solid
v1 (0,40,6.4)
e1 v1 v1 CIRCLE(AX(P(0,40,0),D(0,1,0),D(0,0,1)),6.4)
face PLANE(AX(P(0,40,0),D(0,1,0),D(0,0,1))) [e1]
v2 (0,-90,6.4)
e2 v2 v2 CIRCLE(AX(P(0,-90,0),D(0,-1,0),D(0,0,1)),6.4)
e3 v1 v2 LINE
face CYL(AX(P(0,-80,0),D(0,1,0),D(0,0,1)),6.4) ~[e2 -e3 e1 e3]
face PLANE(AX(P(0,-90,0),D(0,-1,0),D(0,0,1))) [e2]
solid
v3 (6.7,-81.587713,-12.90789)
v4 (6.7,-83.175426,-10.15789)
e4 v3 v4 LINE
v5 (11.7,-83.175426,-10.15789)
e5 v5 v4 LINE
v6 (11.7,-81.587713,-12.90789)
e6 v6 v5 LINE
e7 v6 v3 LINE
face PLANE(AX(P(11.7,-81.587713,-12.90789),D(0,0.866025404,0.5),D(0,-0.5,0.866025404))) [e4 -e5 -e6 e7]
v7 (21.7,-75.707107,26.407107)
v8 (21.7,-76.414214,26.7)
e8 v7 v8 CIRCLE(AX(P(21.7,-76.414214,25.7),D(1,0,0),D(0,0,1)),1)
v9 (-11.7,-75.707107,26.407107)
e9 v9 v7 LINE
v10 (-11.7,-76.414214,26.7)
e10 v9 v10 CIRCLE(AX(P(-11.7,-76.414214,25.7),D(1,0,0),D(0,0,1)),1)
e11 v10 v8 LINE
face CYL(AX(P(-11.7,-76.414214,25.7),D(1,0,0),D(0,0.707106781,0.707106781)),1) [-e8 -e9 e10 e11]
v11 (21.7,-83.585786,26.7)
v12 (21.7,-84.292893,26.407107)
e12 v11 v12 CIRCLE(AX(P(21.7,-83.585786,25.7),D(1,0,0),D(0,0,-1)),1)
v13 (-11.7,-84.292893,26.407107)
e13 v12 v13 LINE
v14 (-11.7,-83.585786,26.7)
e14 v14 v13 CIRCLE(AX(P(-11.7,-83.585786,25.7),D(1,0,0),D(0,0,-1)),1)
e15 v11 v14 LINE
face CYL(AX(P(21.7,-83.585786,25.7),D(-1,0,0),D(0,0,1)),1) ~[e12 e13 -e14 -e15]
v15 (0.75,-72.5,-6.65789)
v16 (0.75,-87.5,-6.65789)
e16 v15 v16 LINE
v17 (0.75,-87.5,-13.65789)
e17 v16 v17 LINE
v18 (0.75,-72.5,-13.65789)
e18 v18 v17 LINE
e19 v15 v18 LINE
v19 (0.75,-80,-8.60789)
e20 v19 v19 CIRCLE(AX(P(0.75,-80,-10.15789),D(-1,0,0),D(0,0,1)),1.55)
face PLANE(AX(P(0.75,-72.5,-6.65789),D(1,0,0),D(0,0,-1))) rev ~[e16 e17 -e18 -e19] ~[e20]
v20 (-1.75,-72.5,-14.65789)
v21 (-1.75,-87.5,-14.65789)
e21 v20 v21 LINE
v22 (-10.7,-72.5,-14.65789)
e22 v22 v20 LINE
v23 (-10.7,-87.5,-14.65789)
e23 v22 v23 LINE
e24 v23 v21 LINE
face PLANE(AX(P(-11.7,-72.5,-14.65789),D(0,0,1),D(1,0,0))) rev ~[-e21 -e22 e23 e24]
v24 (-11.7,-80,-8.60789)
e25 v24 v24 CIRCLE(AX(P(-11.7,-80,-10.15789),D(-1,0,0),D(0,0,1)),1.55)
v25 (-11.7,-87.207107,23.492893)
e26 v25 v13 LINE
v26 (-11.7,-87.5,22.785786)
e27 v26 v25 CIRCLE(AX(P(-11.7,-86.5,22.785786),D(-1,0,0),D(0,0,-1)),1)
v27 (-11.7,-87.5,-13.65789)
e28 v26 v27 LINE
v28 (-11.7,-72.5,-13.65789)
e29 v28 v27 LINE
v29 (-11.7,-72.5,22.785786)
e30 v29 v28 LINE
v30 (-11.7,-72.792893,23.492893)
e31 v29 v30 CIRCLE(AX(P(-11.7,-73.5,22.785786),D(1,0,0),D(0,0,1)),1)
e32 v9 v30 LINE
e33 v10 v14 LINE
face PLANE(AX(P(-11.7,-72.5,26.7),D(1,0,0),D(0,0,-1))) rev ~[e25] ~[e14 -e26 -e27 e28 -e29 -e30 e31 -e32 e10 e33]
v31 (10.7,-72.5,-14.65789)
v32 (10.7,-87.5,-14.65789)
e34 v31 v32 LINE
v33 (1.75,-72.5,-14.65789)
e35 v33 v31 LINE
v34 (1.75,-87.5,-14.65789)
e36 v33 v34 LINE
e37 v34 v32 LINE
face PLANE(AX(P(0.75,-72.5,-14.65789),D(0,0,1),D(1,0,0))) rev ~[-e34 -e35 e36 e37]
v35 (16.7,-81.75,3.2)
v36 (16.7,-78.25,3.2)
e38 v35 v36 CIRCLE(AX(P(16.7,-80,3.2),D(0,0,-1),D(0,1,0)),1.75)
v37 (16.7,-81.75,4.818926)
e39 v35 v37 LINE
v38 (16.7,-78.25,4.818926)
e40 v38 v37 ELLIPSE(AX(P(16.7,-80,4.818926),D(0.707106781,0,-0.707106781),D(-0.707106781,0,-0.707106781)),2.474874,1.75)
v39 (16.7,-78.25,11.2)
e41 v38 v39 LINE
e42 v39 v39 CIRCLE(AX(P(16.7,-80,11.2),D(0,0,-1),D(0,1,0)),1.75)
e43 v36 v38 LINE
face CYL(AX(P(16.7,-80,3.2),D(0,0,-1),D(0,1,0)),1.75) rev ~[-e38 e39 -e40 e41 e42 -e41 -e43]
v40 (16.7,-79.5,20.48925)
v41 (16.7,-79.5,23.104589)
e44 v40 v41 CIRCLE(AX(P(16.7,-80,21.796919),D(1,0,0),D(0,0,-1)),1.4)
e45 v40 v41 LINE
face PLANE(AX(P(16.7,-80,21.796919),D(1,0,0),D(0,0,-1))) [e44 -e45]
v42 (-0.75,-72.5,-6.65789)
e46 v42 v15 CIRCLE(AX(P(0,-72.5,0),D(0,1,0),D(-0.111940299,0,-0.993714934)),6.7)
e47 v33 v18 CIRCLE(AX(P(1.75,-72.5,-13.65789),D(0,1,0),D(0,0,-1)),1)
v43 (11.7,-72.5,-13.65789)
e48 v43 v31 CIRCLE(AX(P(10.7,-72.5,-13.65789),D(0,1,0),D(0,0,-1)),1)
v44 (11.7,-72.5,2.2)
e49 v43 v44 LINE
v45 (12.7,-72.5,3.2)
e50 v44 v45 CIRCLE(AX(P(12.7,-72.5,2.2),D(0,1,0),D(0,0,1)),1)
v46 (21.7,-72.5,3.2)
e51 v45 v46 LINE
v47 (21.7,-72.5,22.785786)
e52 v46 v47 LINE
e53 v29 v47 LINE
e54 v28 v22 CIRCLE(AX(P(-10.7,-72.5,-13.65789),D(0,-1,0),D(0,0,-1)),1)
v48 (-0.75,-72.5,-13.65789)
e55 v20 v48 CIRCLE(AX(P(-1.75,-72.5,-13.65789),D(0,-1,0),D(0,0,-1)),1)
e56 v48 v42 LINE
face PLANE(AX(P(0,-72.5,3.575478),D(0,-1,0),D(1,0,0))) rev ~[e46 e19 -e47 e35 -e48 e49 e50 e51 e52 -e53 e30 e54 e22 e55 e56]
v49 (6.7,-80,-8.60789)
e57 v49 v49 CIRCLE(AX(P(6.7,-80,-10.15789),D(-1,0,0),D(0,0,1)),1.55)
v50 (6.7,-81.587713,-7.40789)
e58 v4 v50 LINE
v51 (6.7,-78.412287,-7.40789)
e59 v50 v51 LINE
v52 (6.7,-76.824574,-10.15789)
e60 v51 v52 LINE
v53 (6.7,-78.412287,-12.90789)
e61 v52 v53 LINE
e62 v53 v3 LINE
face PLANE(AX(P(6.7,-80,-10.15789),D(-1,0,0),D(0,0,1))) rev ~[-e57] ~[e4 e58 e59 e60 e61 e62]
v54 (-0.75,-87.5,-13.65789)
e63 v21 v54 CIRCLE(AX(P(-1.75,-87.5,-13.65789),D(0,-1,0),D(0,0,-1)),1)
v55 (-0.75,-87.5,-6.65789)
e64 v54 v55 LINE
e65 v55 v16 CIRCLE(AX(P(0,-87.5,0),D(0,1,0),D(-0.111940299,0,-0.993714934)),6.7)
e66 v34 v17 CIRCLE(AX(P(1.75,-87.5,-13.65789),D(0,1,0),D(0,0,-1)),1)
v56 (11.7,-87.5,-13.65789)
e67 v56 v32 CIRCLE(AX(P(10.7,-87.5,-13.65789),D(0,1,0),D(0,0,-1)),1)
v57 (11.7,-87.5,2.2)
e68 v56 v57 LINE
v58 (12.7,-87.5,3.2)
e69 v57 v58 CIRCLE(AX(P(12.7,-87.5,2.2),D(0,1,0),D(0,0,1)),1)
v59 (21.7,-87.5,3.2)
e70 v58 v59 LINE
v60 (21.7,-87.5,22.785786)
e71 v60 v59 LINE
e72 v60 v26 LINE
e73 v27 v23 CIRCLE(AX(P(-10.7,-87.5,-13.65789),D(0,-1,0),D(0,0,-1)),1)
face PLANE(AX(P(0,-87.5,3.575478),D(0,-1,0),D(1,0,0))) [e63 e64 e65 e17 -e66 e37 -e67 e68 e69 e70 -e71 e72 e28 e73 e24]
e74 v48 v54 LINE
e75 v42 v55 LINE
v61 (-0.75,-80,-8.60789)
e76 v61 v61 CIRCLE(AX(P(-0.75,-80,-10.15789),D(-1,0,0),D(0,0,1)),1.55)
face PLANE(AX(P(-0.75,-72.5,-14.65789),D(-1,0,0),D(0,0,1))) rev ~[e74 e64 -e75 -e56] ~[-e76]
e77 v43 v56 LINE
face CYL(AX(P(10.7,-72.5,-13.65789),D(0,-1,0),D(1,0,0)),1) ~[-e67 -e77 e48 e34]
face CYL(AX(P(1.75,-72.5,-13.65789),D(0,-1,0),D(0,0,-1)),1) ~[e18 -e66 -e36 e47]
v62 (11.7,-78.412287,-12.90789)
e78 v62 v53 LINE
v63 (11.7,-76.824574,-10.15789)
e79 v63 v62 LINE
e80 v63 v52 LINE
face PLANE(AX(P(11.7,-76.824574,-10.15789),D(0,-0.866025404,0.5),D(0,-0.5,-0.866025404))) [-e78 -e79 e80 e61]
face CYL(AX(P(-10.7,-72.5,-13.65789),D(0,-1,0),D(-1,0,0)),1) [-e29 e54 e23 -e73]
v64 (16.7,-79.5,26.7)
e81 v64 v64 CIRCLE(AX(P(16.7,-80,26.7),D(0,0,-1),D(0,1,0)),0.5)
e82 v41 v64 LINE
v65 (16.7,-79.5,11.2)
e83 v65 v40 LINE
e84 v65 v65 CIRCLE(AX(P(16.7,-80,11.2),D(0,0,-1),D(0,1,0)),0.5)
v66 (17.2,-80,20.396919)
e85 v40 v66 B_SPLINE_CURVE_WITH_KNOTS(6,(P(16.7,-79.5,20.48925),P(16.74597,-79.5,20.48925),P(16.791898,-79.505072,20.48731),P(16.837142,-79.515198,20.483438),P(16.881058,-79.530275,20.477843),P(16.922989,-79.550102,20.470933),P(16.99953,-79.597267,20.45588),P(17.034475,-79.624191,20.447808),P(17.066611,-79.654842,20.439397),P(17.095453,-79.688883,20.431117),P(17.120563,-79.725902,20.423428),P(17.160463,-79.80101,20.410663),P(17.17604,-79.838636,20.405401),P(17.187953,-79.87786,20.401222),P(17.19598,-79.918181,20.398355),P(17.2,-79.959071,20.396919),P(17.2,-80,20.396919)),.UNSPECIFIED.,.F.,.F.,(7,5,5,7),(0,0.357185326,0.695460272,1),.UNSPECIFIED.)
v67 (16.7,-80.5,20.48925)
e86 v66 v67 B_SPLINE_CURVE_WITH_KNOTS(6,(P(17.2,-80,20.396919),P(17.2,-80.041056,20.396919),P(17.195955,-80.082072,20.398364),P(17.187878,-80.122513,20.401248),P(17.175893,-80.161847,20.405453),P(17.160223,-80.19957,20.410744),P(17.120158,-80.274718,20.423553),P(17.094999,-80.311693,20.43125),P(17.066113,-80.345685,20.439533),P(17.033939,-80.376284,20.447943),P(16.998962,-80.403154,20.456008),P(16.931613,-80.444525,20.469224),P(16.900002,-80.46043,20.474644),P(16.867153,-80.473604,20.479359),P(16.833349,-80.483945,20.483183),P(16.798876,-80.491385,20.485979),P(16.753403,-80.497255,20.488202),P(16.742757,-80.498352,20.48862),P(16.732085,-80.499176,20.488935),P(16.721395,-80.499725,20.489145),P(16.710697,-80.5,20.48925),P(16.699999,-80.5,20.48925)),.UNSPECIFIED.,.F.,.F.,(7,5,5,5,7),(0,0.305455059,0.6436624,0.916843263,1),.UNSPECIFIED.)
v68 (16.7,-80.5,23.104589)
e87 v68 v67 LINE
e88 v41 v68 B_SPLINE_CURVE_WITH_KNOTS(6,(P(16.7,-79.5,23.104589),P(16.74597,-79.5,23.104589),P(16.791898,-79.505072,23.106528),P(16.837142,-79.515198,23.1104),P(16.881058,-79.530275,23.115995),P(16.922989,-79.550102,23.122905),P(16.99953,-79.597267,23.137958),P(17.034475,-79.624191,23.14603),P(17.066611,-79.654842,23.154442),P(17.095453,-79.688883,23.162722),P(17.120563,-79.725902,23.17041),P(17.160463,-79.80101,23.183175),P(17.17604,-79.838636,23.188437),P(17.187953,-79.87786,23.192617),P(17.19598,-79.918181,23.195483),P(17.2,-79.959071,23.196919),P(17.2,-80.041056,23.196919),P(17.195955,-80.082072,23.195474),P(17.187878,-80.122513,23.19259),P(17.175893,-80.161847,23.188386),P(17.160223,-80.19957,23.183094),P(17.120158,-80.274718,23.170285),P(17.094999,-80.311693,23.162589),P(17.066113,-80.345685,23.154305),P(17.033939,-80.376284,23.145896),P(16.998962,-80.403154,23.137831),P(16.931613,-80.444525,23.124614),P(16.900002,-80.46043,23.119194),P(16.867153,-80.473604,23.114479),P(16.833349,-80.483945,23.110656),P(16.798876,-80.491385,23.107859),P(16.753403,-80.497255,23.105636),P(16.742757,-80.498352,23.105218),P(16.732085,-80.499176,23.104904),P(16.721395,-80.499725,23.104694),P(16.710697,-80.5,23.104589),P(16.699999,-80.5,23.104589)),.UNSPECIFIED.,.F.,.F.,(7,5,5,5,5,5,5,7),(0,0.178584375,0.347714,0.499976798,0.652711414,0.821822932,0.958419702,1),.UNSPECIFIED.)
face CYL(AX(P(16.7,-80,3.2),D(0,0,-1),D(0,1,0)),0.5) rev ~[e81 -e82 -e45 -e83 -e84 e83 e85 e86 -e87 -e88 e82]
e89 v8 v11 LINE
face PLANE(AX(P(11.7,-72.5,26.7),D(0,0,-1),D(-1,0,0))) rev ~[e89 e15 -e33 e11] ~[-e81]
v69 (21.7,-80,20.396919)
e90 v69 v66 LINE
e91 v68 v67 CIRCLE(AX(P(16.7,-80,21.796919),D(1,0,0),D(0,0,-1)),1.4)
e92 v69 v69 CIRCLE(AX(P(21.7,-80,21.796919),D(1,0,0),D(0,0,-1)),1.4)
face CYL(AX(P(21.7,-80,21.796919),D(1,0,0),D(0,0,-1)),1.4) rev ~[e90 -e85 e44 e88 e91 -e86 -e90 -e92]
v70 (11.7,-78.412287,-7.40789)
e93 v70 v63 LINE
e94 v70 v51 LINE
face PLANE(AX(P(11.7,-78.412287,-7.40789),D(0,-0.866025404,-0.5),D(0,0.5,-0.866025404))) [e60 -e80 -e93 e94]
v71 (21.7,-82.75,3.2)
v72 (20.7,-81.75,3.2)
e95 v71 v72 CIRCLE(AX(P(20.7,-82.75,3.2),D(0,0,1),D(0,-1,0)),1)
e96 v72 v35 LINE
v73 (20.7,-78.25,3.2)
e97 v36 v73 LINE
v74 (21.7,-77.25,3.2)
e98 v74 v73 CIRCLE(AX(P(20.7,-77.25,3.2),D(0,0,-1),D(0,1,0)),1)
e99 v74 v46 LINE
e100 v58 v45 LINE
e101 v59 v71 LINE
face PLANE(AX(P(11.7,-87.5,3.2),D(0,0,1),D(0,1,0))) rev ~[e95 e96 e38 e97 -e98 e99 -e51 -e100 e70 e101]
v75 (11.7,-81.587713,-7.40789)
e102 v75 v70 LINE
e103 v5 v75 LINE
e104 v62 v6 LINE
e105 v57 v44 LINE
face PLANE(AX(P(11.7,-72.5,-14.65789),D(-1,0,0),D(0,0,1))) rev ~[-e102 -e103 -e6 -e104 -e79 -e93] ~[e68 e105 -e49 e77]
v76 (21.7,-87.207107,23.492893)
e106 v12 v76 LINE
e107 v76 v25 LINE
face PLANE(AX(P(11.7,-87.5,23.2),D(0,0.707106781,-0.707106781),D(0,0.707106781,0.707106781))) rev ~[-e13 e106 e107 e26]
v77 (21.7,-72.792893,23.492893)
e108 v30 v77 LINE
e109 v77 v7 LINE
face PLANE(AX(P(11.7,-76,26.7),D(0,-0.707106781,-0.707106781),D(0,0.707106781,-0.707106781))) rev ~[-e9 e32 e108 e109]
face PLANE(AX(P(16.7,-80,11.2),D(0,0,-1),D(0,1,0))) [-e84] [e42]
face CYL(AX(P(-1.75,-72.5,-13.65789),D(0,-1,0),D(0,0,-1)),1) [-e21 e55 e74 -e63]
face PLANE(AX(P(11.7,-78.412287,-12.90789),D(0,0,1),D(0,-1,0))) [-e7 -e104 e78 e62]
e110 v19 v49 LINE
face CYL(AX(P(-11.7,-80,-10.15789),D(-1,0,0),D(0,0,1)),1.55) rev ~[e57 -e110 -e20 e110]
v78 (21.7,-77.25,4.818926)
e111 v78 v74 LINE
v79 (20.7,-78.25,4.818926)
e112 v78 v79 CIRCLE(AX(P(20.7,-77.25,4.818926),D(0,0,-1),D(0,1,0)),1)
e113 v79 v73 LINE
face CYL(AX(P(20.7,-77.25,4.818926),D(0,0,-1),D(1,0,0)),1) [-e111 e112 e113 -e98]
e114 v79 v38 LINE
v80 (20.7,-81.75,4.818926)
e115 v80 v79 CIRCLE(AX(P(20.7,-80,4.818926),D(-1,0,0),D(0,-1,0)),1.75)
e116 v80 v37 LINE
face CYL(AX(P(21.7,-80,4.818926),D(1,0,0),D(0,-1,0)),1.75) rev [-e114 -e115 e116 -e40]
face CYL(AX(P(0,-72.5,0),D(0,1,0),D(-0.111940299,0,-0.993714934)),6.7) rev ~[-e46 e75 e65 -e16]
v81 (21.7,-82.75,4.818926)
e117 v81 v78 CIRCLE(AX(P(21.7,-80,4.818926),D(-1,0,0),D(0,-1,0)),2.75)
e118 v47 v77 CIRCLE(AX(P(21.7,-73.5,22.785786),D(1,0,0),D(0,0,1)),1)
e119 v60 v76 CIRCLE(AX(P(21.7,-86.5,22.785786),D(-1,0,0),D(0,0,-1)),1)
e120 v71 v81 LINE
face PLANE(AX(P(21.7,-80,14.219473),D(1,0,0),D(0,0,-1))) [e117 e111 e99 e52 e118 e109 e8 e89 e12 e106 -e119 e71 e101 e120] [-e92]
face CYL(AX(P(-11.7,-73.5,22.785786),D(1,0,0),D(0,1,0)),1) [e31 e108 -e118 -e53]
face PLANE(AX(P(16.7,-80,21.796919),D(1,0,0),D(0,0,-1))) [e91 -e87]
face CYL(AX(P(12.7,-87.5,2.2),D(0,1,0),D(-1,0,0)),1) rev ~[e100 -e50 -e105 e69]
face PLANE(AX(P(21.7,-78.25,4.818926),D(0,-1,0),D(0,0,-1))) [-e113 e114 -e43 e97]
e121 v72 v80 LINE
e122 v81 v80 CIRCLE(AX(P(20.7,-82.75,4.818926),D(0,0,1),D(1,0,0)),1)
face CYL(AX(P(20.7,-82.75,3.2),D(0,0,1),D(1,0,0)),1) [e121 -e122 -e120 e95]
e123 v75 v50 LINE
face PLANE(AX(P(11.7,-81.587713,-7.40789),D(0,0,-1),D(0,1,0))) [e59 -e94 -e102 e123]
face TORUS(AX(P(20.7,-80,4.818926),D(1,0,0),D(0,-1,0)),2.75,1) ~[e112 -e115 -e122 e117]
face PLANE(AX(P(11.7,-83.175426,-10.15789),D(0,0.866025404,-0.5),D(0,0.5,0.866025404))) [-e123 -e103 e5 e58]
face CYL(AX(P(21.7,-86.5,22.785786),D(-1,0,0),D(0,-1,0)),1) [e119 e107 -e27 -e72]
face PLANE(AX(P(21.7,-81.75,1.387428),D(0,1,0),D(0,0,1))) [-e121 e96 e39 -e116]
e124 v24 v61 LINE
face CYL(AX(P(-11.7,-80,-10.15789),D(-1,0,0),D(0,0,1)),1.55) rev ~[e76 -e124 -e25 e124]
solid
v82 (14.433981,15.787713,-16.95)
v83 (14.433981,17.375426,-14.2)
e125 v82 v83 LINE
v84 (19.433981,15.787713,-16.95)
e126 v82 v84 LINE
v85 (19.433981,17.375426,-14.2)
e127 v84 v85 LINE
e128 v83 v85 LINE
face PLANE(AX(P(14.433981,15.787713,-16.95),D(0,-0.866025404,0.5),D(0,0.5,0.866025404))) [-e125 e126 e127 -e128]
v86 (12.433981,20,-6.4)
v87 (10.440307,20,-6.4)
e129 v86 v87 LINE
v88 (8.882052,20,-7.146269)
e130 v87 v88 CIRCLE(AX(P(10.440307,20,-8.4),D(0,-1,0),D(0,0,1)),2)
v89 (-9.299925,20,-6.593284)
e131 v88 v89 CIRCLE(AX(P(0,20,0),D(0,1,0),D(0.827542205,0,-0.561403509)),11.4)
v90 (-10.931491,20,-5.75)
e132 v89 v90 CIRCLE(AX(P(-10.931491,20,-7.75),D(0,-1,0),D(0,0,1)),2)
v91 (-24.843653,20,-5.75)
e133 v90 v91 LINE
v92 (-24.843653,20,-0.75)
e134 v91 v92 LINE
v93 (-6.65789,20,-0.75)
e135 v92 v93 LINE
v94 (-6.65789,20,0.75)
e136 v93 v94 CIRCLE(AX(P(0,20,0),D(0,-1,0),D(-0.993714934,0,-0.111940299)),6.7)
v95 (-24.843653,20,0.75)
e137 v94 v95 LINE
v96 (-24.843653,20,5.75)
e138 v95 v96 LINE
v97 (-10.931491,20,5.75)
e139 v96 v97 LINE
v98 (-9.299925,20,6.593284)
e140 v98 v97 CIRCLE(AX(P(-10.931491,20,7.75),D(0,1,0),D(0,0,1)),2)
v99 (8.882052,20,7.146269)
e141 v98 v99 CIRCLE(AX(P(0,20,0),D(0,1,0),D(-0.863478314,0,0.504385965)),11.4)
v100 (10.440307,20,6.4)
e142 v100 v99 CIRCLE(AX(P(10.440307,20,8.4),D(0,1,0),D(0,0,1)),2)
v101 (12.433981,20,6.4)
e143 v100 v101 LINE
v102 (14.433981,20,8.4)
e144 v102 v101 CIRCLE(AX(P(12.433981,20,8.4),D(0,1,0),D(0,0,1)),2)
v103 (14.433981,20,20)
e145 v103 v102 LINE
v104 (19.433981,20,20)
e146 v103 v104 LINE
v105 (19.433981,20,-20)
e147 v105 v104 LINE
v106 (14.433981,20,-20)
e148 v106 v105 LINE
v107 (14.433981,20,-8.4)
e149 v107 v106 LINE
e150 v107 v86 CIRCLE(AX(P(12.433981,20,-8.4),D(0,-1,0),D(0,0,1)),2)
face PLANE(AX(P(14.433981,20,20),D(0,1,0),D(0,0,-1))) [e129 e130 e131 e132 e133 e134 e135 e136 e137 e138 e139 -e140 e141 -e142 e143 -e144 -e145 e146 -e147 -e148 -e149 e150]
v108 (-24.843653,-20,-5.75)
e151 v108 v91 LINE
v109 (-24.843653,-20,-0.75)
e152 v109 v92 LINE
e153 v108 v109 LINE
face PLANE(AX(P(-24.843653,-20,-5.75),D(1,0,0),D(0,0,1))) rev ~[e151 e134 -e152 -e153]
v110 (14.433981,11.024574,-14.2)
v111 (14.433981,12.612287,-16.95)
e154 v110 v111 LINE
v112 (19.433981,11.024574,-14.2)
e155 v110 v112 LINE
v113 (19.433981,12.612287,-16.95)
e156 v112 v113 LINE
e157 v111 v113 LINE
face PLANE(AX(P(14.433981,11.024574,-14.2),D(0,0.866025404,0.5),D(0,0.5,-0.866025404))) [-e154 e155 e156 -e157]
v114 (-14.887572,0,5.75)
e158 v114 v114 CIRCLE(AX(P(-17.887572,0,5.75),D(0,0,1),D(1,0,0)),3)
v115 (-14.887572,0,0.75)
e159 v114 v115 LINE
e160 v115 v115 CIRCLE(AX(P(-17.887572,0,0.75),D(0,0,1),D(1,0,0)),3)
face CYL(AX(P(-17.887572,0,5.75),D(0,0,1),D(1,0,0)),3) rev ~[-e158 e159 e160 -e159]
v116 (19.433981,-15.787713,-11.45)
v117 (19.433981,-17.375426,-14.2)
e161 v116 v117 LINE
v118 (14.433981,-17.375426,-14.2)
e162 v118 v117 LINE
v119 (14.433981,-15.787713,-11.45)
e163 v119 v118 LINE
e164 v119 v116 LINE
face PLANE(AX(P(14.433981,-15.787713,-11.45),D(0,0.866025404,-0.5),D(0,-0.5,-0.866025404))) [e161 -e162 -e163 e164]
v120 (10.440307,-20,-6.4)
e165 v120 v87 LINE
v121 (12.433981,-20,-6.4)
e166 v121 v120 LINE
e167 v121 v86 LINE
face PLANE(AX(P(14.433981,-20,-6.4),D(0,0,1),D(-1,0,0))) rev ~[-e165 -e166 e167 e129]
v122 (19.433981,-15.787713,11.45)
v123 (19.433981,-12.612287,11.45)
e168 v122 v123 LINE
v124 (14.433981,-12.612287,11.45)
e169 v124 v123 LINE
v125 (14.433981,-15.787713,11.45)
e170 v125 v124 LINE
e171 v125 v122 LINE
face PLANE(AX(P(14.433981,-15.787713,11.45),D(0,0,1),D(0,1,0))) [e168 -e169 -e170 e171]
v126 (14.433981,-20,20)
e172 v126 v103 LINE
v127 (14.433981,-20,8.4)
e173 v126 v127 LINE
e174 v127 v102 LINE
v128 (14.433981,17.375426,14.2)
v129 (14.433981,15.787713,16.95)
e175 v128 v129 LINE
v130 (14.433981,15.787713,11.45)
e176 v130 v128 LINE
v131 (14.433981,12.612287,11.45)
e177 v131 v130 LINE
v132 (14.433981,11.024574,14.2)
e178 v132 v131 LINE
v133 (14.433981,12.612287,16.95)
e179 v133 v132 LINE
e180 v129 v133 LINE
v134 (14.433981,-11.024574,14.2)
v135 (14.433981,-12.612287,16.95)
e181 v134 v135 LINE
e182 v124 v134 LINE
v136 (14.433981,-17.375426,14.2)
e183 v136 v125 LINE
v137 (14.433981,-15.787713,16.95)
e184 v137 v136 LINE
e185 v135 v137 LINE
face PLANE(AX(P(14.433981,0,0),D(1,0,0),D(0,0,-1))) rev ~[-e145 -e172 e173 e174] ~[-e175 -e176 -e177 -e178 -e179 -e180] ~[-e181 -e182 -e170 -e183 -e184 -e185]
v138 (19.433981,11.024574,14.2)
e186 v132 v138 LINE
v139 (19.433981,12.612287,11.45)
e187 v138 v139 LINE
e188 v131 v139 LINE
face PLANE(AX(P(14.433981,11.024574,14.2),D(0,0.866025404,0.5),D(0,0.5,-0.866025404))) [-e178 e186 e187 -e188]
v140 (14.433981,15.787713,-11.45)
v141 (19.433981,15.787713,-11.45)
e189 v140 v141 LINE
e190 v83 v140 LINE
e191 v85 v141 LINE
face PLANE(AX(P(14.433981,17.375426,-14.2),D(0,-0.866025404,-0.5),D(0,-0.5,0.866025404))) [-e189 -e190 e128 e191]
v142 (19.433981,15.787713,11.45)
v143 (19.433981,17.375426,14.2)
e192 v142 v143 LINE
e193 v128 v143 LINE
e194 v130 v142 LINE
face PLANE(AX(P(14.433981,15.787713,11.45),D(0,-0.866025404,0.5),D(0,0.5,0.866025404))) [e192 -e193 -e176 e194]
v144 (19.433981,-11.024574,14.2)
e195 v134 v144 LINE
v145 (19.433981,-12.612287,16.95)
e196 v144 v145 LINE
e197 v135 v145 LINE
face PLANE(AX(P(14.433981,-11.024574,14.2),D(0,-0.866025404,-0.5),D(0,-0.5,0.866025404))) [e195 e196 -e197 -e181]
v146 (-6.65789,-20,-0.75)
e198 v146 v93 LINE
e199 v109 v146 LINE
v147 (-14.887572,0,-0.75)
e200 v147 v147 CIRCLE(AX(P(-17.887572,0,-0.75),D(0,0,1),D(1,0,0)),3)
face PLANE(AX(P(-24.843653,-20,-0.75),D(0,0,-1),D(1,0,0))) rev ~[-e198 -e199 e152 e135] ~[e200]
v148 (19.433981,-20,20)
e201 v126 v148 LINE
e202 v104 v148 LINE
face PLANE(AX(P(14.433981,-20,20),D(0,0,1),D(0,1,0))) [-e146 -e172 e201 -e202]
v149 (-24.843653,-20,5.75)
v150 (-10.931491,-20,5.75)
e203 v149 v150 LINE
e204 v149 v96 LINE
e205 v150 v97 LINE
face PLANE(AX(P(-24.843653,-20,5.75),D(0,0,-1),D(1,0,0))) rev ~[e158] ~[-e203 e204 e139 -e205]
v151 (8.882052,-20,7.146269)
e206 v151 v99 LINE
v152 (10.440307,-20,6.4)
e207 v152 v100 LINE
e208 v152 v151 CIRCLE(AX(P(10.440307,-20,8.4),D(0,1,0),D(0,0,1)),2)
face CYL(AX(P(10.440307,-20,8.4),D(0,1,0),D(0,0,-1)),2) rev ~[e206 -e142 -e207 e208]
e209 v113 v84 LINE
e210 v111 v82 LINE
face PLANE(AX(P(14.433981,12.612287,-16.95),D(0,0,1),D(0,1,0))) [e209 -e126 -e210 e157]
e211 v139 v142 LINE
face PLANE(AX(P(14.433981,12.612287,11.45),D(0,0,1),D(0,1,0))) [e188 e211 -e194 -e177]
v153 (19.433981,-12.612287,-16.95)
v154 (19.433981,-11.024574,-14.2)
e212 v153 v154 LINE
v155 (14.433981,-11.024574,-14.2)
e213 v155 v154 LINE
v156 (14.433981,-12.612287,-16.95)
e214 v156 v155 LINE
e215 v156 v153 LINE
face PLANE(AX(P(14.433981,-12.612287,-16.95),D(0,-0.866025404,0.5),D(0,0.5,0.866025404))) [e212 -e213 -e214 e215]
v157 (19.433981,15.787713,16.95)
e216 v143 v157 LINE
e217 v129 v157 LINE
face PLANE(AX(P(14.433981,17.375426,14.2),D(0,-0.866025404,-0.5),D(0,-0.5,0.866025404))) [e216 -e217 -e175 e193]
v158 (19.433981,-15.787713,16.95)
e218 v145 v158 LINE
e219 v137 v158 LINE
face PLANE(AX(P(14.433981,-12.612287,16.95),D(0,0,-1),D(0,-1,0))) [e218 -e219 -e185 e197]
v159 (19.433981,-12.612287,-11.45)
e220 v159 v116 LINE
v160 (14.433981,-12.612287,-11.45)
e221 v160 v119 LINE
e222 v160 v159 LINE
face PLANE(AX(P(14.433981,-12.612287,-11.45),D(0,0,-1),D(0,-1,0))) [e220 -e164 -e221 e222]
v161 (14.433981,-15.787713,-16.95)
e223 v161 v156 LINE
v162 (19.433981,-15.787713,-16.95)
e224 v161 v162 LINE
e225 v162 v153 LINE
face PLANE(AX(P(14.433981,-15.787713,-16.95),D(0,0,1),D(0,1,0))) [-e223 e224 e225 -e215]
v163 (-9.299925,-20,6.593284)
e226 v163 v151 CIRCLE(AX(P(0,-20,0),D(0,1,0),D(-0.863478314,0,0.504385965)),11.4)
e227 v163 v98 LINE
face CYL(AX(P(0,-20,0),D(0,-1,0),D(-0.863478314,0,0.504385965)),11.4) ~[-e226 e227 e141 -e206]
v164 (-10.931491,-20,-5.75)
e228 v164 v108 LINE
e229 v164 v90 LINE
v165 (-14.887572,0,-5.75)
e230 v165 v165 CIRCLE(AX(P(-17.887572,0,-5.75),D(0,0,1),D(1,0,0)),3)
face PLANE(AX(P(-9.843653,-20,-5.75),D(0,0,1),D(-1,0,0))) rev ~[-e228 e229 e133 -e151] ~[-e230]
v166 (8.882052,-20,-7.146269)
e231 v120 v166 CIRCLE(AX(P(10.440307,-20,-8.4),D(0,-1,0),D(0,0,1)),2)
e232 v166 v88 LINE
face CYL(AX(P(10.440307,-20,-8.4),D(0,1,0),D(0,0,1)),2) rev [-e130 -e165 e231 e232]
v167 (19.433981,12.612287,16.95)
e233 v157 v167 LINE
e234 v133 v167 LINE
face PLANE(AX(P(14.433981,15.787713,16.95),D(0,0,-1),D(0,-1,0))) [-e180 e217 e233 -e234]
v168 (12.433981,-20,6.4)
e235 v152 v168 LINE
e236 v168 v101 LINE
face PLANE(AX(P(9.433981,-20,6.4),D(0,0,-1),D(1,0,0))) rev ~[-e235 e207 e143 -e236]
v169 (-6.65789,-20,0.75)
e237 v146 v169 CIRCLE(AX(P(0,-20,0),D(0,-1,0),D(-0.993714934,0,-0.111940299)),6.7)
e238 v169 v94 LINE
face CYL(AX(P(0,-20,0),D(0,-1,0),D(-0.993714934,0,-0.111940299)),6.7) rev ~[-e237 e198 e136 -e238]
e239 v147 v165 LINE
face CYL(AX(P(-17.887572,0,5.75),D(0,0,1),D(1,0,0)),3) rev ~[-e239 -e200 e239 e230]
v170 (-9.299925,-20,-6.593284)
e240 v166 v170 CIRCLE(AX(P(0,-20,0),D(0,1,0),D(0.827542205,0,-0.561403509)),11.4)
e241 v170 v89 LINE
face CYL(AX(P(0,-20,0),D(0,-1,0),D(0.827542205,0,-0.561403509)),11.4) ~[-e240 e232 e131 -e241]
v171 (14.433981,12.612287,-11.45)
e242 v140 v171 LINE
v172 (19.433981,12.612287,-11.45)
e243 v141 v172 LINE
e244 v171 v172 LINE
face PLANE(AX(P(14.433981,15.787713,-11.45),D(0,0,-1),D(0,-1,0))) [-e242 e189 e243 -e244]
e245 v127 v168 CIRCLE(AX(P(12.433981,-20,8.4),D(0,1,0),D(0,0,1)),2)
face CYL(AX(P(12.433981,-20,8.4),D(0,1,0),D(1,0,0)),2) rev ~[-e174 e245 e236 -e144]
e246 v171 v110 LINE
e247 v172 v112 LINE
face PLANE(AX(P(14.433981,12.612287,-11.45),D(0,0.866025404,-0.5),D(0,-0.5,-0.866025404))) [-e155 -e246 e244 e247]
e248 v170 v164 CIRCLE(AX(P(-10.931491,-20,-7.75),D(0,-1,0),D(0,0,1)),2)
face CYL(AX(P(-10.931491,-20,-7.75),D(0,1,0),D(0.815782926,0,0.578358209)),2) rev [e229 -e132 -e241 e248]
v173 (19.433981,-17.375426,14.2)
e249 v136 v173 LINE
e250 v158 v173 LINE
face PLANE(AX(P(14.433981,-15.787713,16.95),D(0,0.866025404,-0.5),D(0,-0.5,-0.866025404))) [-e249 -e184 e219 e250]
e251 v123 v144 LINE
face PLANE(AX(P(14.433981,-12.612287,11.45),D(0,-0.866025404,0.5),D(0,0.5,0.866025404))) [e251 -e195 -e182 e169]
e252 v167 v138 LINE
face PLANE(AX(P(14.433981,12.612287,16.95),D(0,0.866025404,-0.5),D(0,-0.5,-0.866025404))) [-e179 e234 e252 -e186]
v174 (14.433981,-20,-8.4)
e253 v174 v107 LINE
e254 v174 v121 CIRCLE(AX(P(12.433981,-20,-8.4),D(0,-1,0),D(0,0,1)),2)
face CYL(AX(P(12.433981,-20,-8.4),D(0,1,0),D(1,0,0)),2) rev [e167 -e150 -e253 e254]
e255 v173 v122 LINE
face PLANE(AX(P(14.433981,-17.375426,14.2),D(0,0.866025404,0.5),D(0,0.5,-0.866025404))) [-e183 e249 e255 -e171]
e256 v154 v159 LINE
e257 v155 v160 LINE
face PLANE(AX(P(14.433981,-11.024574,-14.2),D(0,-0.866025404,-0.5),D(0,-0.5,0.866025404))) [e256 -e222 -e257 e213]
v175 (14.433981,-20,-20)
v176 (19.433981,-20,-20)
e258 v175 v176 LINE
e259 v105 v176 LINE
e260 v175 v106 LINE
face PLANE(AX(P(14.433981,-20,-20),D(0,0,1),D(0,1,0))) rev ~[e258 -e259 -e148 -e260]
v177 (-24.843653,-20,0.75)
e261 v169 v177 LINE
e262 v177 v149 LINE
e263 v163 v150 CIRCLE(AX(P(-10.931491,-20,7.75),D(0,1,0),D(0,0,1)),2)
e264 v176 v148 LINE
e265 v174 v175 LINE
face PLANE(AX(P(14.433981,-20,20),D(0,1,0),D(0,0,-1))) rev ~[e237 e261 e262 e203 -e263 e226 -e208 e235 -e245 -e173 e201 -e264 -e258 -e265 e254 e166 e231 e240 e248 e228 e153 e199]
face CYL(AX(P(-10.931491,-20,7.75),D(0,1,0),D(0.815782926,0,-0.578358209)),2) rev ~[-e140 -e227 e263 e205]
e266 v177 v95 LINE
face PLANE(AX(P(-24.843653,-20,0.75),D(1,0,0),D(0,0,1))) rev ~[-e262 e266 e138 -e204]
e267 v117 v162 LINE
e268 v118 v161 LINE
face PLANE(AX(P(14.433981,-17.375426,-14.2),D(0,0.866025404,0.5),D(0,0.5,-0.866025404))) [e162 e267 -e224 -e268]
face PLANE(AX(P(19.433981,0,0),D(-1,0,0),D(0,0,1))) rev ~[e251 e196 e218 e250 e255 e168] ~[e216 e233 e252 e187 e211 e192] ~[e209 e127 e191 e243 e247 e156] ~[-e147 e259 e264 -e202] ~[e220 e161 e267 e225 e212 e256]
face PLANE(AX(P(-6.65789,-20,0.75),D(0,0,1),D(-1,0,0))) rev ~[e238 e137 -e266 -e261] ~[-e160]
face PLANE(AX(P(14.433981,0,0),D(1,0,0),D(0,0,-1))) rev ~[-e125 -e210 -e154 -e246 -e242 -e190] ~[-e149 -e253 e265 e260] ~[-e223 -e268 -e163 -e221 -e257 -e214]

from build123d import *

# Parameters (mm, degrees)
BOSS_EXTRUDE1_DEPTH      = 40
BOSS_EXTRUDE1_DEPTH_BACK = 80
SKETCH1_R                = 6.4
BOSS_EXTRUDE2_DEPTH      = 20
BOSS_EXTRUDE2_DEPTH_BACK = 20
SKETCH6_W                = 40
SKETCH6_H                = 40
BOSS_EXTRUDE6_DEPTH      = 10
BOSS_EXTRUDE7_DEPTH      = 20
BOSS_EXTRUDE7_DEPTH_BACK = 20
FILLET4_R                = 2
FILLET5_R                = 2
CUT_EXTRUDE1_REACH       = 107.462
SKETCH9_R                = 3
CUT_EXTRUDE2_REACH       = 101.861
SKETCH10_R               = 2.5
BOSS_EXTRUDE8_DEPTH      = 7.5
BOSS_EXTRUDE8_DEPTH_BACK = 7.5
FILLET6_R                = 1
FILLET7_R                = 1
CUT_EXTRUDE8_REACH       = 120.558
SKETCH17_R               = 1.55
CUT_EXTRUDE9_DEPTH       = 5
SKETCH19_R               = 6.4
BOSS_EXTRUDE9_DEPTH      = 10
BOSS_EXTRUDE11_DEPTH     = 10
CUT_EXTRUDE15_DEPTH      = 23.4
SKETCH29_R               = 0.5
CUT_EXTRUDE16_DEPTH      = 23.5
SKETCH30_R               = 1.75
CUT_EXTRUDE17_DEPTH      = 8
FILLET10_R               = 1
SKETCH31_R               = 1.4
CUT_EXTRUDE18_DEPTH      = 5
CUT_EXTRUDE19_DEPTH      = 5
FILLET11_R               = 1
SKETCH33_R               = 1.5
CUT_EXTRUDE20_DEPTH      = 10
CUT_EXTRUDE21_DEPTH      = 5
SKETCH35_W               = 76.564023034
SKETCH35_H               = 53.794597286
CUT_EXTRUDE22_DEPTH      = 68


with BuildPart() as part:
    # Sketch1 → Boss-Extrude1 (new, two sides: drawn at the far end of the back side and taken through both)
    with BuildSketch(Plane(origin=(0, 0, 0), x_dir=(1, 0, 0), z_dir=(0, 1, 0)).offset(-BOSS_EXTRUDE1_DEPTH_BACK)):
        with Locations(Location((0, 0, 0), (0, 0, 270))):
            Circle(SKETCH1_R)
    extrude(amount=BOSS_EXTRUDE1_DEPTH + BOSS_EXTRUDE1_DEPTH_BACK)

    # Sketch19 → Boss-Extrude9 (add)
    with BuildSketch(Plane(origin=(0, -80, 0), x_dir=(-1, 0, 0), z_dir=(0, -1, 0))):
        with Locations(Location((0, 0, 0), (0, 0, 270))):
            Circle(SKETCH19_R)
    extrude(amount=BOSS_EXTRUDE9_DEPTH)


with BuildPart() as body_2:
    # Sketch2 → Boss-Extrude2 (new, two sides: drawn at the far end of the back side and taken through both)
    with BuildSketch(Plane(origin=(0, 0, 0), x_dir=(1, 0, 0), z_dir=(0, 1, 0)).offset(-BOSS_EXTRUDE2_DEPTH_BACK)):
        with BuildLine():
            Line((-9.843652777, 5.75), (-24.843652777, 5.75))
            Line((-24.843652777, 5.75), (-24.843652777, 0.75))
            Line((-24.843652777, 0.75), (-6.657890056, 0.75))
            ThreePointArc((-6.657890056, 0.75), (6.7, 0), (-6.657890056, -0.75))
            Line((-6.657890056, -0.75), (-24.843652777, -0.75))
            Line((-24.843652777, -0.75), (-24.843652777, -5.75))
            Line((-24.843652777, -5.75), (-9.843652777, -5.75))
            ThreePointArc((-9.843652777, -5.75), (-0.384164957, -11.393525235), (9.433981132, -6.4))
            Line((9.433981132, -6.4), (14.433981132, -6.4))
            Line((14.433981132, -6.4), (14.433981132, 6.4))
            Line((14.433981132, 6.4), (9.433981132, 6.4))
            ThreePointArc((9.433981132, 6.4), (-0.384164957, 11.393525235), (-9.843652777, 5.75))
        make_face()
    extrude(amount=BOSS_EXTRUDE2_DEPTH + BOSS_EXTRUDE2_DEPTH_BACK)

    # Sketch6 → Boss-Extrude6 (add)
    with BuildSketch(Plane(origin=(14.433981132, 0, 0), x_dir=(0, 0, -1), z_dir=(1, 0, 0))):
        Rectangle(SKETCH6_W, SKETCH6_H)
    extrude(amount=BOSS_EXTRUDE6_DEPTH)

    # Sketch7 → Boss-Extrude7 (add, two sides: drawn at the far end of the back side and taken through both)
    with BuildSketch(Plane(origin=(0, 0, 0), x_dir=(-1, 0, 0), z_dir=(0, 0, -1)).offset(-BOSS_EXTRUDE7_DEPTH_BACK)):
        with BuildLine():
            Line((-24.433981132, -6.4), (-29.433981132, -6.4))
            ThreePointArc((-29.433981132, -6.4), (-39.252127221, -11.393525235), (-48.711615041, -5.75))
            Line((-48.711615041, -5.75), (-63.711615041, -5.75))
            Line((-63.711615041, -5.75), (-63.711615041, -0.75))
            Line((-63.711615041, -0.75), (-45.52585232, -0.75))
            ThreePointArc((-45.52585232, -0.75), (-32.167962264, 0), (-45.52585232, 0.75))
            Line((-45.52585232, 0.75), (-63.711615041, 0.75))
            Line((-63.711615041, 0.75), (-63.711615041, 5.75))
            Line((-63.711615041, 5.75), (-48.711615041, 5.75))
            ThreePointArc((-48.711615041, 5.75), (-39.252127221, 11.393525235), (-29.433981132, 6.4))
            Line((-29.433981132, 6.4), (-24.433981132, 6.4))
            Line((-24.433981132, 6.4), (-24.433981132, -6.4))
        make_face()
    extrude(amount=BOSS_EXTRUDE7_DEPTH + BOSS_EXTRUDE7_DEPTH_BACK)

    # Fillet4
    fillet4_edges = [body_2.edges().sort_by_distance(p)[0] for p in [
        (24.433981132, 6.4, 0),
        (24.433981132, -6.4, 0),
        (14.433981132, 0, -6.4),
        (14.433981132, 0, 6.4),
    ]]
    fillet(fillet4_edges, radius=FILLET4_R)

    # Fillet5
    fillet5_edges = [body_2.edges().sort_by_distance(p)[0] for p in [
        (29.433981132, -6.4, 0),
        (29.433981132, 6.4, 0),
        (48.711615041, 5.75, 0),
        (48.711615041, -5.75, 0),
        (9.433981132, 0, 6.4),
        (9.433981132, 0, -6.4),
        (-9.843652777, 0, -5.75),
        (-9.843652777, 0, 5.75),
    ]]
    fillet(fillet5_edges, radius=FILLET5_R)

    # Cut-Extrude1: up to this face of the body (flat: up to its plane)
    cut_extrude1_end = Plane(body_2.part.faces().sort_by_distance((-17.887571992, 0, -5.75))[0])
    # Sketch9 → Cut-Extrude1 (cut, up to the picked face)
    with BuildSketch(Plane.XY.offset(5.75), mode=Mode.PRIVATE) as cut_extrude1_sk1:
        with Locations((-17.887571992, 0)):
            Circle(SKETCH9_R)
    cut_extrude1_tool1 = split(extrude(cut_extrude1_sk1.sketch, amount=-CUT_EXTRUDE1_REACH, mode=Mode.PRIVATE), bisect_by=cut_extrude1_end, keep=Keep.BOTH, mode=Mode.PRIVATE)
    add(cut_extrude1_tool1.solids().sort_by(Axis((-17.887572, 0, 5.75), (0, 0, -1)))[0], mode=Mode.SUBTRACT)

    # Cut-Extrude2: up to this face of the body (flat: up to its plane)
    cut_extrude2_end = Plane(body_2.part.faces().sort_by_distance((56.755534256, 5.75, 0))[0])
    # Sketch10 → Cut-Extrude2 (cut, up to the picked face)
    with BuildSketch(Plane(origin=(0, -5.75, 0), x_dir=(-1, 0, 0), z_dir=(0, -1, 0)), mode=Mode.PRIVATE) as cut_extrude2_sk1:
        with Locations(Location((-56.755534256, 0, 0), (0, 0, 180))):
            Circle(SKETCH10_R)
    cut_extrude2_tool1 = split(extrude(cut_extrude2_sk1.sketch, amount=-CUT_EXTRUDE2_REACH, mode=Mode.PRIVATE), bisect_by=cut_extrude2_end, keep=Keep.BOTH, mode=Mode.PRIVATE)
    add(cut_extrude2_tool1.solids().sort_by(Axis((56.755534, -5.75, 0), (0, 1, 0)))[0], mode=Mode.SUBTRACT)

    # Sketch33 → Cut-Extrude20 (cut)
    with BuildSketch(Plane.ZY.offset(-14.433981132)):
        with Locations((14.2, 14.2)):
            Circle(SKETCH33_R)
        with Locations(Location((14.2, -14.2, 0), (0, 0, 180))):
            Circle(SKETCH33_R)
        with Locations((-14.2, -14.2)):
            Circle(SKETCH33_R)
        with Locations(Location((-14.2, 14.2, 0), (0, 0, 180))):
            Circle(SKETCH33_R)
    extrude(amount=-CUT_EXTRUDE20_DEPTH, mode=Mode.SUBTRACT)

    # Sketch34 → Cut-Extrude21 (cut)
    with BuildSketch(Plane.ZY.offset(-14.433981132)):
        Polygon((16.95, -12.61228676), (16.95, -15.78771324), (14.2, -17.375426481), (11.45, -15.78771324), (11.45, -12.61228676), (14.2, -11.024573519), align=None)
        Polygon((14.2, 17.375426481), (16.95, 15.78771324), (16.95, 12.61228676), (14.2, 11.024573519), (11.45, 12.61228676), (11.45, 15.78771324), align=None)
        Polygon((-14.2, -17.375426481), (-16.95, -15.78771324), (-16.95, -12.61228676), (-14.2, -11.024573519), (-11.45, -12.61228676), (-11.45, -15.78771324), align=None)
        Polygon((-16.95, 12.61228676), (-16.95, 15.78771324), (-14.2, 17.375426481), (-11.45, 15.78771324), (-11.45, 12.61228676), (-14.2, 11.024573519), align=None)
    extrude(amount=-CUT_EXTRUDE21_DEPTH, mode=Mode.SUBTRACT)

    # Sketch35 → Cut-Extrude22 (cut)
    with BuildSketch(Plane.ZY.offset(-19.433981132)):
        Rectangle(SKETCH35_W, SKETCH35_H)
    extrude(amount=-CUT_EXTRUDE22_DEPTH, mode=Mode.SUBTRACT)


with BuildPart() as body_3:
    # Sketch13 → Boss-Extrude8 (new, two sides: drawn at the far end of the back side and taken through both)
    with BuildSketch(Plane.XZ.offset(80).offset(-BOSS_EXTRUDE8_DEPTH_BACK)):
        with BuildLine():
            Line((11.7, -14.657890056), (11.7, 26.7))
            Line((11.7, 26.7), (-11.7, 26.7))
            Line((-11.7, 26.7), (-11.7, -14.657890056))
            Line((-11.7, -14.657890056), (-0.75, -14.657890056))
            Line((-0.75, -14.657890056), (-0.75, -6.657890056))
            ThreePointArc((-0.75, -6.657890056), (0, 6.7), (0.75, -6.657890056))
            Line((0.75, -6.657890056), (0.75, -14.657890056))
            Line((0.75, -14.657890056), (11.7, -14.657890056))
        make_face()
    extrude(amount=BOSS_EXTRUDE8_DEPTH + BOSS_EXTRUDE8_DEPTH_BACK)

    # Fillet6
    fillet6_edges = [body_3.edges().sort_by_distance(p)[0] for p in [
        (-11.7, -80, -14.657890056),
        (11.7, -80, -14.657890056),
    ]]
    fillet(fillet6_edges, radius=FILLET6_R)

    # Fillet7
    fillet7_edges = [body_3.edges().sort_by_distance(p)[0] for p in [
        (0.75, -80, -14.657890056),
        (-0.75, -80, -14.657890056),
    ]]
    fillet(fillet7_edges, radius=FILLET7_R)

    # Cut-Extrude8: up to this face of the body (flat: up to its plane)
    cut_extrude8_end = Plane(body_3.part.faces().sort_by_distance((11.7, -80, 6.521054972))[0])
    # Sketch17 → Cut-Extrude8 (cut, up to the picked face)
    with BuildSketch(Plane.ZY.offset(11.7), mode=Mode.PRIVATE) as cut_extrude8_sk1:
        with Locations((-10.157890056, -80)):
            Circle(SKETCH17_R)
    cut_extrude8_tool1 = split(extrude(cut_extrude8_sk1.sketch, amount=-CUT_EXTRUDE8_REACH, mode=Mode.PRIVATE), bisect_by=cut_extrude8_end, keep=Keep.BOTH, mode=Mode.PRIVATE)
    add(cut_extrude8_tool1.solids().sort_by(Axis((-11.7, -80, -10.15789), (1, 0, 0)))[0], mode=Mode.SUBTRACT)

    # Sketch18 → Cut-Extrude9 (cut)
    with BuildSketch(Plane(origin=(11.7, 0, 0), x_dir=(0, 0, -1), z_dir=(1, 0, 0))):
        Polygon((12.907890056, -78.41228676), (12.907890056, -81.58771324), (10.157890056, -83.175426481), (7.407890056, -81.58771324), (7.407890056, -78.41228676), (10.157890056, -76.824573519), align=None)
    extrude(amount=-CUT_EXTRUDE9_DEPTH, mode=Mode.SUBTRACT)

    # Sketch27 → Boss-Extrude11 (add)
    with BuildSketch(Plane(origin=(11.7, 0, 0), x_dir=(0, 0, -1), z_dir=(1, 0, 0))):
        Polygon((-23.2, -72.5), (-26.7, -76), (-26.7, -84), (-23.2, -87.5), (-3.2, -87.5), (-3.2, -72.5), align=None)
    extrude(amount=BOSS_EXTRUDE11_DEPTH)

    # Sketch28 → Cut-Extrude15 (cut)
    with BuildSketch(Plane(origin=(11.7, 0, 0), x_dir=(0, 0, -1), z_dir=(1, 0, 0))):
        Polygon((-26.7, -72.5), (-26.7, -76), (-23.2, -72.5), align=None)
        Polygon((-26.7, -87.5), (-23.2, -87.5), (-26.7, -84), align=None)
    extrude(amount=-CUT_EXTRUDE15_DEPTH, mode=Mode.SUBTRACT)

    # Sketch29 → Cut-Extrude16 (cut)
    with BuildSketch(Plane(origin=(0, 0, 3.2), x_dir=(-1, 0, 0), z_dir=(0, 0, -1))):
        with Locations(Location((-16.7, -80, 0), (0, 0, 90))):
            Circle(SKETCH29_R)
    extrude(amount=-CUT_EXTRUDE16_DEPTH, mode=Mode.SUBTRACT)

    # Sketch30 → Cut-Extrude17 (cut)
    with BuildSketch(Plane(origin=(0, 0, 3.2), x_dir=(-1, 0, 0), z_dir=(0, 0, -1))):
        with Locations(Location((-16.7, -80, 0), (0, 0, 90))):
            Circle(SKETCH30_R)
    extrude(amount=-CUT_EXTRUDE17_DEPTH, mode=Mode.SUBTRACT)

    # Fillet10
    fillet10_edges = [body_3.edges().sort_by_distance(p)[0] for p in [
        (5, -72.5, 23.2),
        (5, -76, 26.7),
        (5, -84, 26.7),
        (5, -87.5, 23.2),
        (11.7, -80, 3.2),
    ]]
    fillet(fillet10_edges, radius=FILLET10_R)

    # Sketch31 → Cut-Extrude18 (cut)
    with BuildSketch(Plane(origin=(21.7, 0, 0), x_dir=(0, 0, -1), z_dir=(1, 0, 0))):
        with Locations((-21.796919258, -80)):
            Circle(SKETCH31_R)
    extrude(amount=-CUT_EXTRUDE18_DEPTH, mode=Mode.SUBTRACT)

    # Sketch32 → Cut-Extrude19 (cut)
    with BuildSketch(Plane(origin=(21.7, 0, 0), x_dir=(0, 0, -1), z_dir=(1, 0, 0))):
        with BuildLine():
            Line((-1.387428393, -81.75), (-4.818925736, -81.75))
            ThreePointArc((-4.818925736, -81.75), (-6.568925736, -80), (-4.818925736, -78.25))
            Line((-4.818925736, -78.25), (-1.387428393, -78.25))
            ThreePointArc((-1.387428393, -78.25), (0.362571607, -80), (-1.387428393, -81.75))
        make_face()
    extrude(amount=-CUT_EXTRUDE19_DEPTH, mode=Mode.SUBTRACT)

    # Fillet11
    fillet11_edges = [body_3.edges().sort_by_distance(p)[0] for p in [
        (21.7, -81.75, 4.009462868),
        (21.7, -78.25, 4.009462868),
        (21.7, -80, 6.568925736),
    ]]
    fillet(fillet11_edges, radius=FILLET11_R)


solid = Compound([part.part, body_2.part, body_3.part])
